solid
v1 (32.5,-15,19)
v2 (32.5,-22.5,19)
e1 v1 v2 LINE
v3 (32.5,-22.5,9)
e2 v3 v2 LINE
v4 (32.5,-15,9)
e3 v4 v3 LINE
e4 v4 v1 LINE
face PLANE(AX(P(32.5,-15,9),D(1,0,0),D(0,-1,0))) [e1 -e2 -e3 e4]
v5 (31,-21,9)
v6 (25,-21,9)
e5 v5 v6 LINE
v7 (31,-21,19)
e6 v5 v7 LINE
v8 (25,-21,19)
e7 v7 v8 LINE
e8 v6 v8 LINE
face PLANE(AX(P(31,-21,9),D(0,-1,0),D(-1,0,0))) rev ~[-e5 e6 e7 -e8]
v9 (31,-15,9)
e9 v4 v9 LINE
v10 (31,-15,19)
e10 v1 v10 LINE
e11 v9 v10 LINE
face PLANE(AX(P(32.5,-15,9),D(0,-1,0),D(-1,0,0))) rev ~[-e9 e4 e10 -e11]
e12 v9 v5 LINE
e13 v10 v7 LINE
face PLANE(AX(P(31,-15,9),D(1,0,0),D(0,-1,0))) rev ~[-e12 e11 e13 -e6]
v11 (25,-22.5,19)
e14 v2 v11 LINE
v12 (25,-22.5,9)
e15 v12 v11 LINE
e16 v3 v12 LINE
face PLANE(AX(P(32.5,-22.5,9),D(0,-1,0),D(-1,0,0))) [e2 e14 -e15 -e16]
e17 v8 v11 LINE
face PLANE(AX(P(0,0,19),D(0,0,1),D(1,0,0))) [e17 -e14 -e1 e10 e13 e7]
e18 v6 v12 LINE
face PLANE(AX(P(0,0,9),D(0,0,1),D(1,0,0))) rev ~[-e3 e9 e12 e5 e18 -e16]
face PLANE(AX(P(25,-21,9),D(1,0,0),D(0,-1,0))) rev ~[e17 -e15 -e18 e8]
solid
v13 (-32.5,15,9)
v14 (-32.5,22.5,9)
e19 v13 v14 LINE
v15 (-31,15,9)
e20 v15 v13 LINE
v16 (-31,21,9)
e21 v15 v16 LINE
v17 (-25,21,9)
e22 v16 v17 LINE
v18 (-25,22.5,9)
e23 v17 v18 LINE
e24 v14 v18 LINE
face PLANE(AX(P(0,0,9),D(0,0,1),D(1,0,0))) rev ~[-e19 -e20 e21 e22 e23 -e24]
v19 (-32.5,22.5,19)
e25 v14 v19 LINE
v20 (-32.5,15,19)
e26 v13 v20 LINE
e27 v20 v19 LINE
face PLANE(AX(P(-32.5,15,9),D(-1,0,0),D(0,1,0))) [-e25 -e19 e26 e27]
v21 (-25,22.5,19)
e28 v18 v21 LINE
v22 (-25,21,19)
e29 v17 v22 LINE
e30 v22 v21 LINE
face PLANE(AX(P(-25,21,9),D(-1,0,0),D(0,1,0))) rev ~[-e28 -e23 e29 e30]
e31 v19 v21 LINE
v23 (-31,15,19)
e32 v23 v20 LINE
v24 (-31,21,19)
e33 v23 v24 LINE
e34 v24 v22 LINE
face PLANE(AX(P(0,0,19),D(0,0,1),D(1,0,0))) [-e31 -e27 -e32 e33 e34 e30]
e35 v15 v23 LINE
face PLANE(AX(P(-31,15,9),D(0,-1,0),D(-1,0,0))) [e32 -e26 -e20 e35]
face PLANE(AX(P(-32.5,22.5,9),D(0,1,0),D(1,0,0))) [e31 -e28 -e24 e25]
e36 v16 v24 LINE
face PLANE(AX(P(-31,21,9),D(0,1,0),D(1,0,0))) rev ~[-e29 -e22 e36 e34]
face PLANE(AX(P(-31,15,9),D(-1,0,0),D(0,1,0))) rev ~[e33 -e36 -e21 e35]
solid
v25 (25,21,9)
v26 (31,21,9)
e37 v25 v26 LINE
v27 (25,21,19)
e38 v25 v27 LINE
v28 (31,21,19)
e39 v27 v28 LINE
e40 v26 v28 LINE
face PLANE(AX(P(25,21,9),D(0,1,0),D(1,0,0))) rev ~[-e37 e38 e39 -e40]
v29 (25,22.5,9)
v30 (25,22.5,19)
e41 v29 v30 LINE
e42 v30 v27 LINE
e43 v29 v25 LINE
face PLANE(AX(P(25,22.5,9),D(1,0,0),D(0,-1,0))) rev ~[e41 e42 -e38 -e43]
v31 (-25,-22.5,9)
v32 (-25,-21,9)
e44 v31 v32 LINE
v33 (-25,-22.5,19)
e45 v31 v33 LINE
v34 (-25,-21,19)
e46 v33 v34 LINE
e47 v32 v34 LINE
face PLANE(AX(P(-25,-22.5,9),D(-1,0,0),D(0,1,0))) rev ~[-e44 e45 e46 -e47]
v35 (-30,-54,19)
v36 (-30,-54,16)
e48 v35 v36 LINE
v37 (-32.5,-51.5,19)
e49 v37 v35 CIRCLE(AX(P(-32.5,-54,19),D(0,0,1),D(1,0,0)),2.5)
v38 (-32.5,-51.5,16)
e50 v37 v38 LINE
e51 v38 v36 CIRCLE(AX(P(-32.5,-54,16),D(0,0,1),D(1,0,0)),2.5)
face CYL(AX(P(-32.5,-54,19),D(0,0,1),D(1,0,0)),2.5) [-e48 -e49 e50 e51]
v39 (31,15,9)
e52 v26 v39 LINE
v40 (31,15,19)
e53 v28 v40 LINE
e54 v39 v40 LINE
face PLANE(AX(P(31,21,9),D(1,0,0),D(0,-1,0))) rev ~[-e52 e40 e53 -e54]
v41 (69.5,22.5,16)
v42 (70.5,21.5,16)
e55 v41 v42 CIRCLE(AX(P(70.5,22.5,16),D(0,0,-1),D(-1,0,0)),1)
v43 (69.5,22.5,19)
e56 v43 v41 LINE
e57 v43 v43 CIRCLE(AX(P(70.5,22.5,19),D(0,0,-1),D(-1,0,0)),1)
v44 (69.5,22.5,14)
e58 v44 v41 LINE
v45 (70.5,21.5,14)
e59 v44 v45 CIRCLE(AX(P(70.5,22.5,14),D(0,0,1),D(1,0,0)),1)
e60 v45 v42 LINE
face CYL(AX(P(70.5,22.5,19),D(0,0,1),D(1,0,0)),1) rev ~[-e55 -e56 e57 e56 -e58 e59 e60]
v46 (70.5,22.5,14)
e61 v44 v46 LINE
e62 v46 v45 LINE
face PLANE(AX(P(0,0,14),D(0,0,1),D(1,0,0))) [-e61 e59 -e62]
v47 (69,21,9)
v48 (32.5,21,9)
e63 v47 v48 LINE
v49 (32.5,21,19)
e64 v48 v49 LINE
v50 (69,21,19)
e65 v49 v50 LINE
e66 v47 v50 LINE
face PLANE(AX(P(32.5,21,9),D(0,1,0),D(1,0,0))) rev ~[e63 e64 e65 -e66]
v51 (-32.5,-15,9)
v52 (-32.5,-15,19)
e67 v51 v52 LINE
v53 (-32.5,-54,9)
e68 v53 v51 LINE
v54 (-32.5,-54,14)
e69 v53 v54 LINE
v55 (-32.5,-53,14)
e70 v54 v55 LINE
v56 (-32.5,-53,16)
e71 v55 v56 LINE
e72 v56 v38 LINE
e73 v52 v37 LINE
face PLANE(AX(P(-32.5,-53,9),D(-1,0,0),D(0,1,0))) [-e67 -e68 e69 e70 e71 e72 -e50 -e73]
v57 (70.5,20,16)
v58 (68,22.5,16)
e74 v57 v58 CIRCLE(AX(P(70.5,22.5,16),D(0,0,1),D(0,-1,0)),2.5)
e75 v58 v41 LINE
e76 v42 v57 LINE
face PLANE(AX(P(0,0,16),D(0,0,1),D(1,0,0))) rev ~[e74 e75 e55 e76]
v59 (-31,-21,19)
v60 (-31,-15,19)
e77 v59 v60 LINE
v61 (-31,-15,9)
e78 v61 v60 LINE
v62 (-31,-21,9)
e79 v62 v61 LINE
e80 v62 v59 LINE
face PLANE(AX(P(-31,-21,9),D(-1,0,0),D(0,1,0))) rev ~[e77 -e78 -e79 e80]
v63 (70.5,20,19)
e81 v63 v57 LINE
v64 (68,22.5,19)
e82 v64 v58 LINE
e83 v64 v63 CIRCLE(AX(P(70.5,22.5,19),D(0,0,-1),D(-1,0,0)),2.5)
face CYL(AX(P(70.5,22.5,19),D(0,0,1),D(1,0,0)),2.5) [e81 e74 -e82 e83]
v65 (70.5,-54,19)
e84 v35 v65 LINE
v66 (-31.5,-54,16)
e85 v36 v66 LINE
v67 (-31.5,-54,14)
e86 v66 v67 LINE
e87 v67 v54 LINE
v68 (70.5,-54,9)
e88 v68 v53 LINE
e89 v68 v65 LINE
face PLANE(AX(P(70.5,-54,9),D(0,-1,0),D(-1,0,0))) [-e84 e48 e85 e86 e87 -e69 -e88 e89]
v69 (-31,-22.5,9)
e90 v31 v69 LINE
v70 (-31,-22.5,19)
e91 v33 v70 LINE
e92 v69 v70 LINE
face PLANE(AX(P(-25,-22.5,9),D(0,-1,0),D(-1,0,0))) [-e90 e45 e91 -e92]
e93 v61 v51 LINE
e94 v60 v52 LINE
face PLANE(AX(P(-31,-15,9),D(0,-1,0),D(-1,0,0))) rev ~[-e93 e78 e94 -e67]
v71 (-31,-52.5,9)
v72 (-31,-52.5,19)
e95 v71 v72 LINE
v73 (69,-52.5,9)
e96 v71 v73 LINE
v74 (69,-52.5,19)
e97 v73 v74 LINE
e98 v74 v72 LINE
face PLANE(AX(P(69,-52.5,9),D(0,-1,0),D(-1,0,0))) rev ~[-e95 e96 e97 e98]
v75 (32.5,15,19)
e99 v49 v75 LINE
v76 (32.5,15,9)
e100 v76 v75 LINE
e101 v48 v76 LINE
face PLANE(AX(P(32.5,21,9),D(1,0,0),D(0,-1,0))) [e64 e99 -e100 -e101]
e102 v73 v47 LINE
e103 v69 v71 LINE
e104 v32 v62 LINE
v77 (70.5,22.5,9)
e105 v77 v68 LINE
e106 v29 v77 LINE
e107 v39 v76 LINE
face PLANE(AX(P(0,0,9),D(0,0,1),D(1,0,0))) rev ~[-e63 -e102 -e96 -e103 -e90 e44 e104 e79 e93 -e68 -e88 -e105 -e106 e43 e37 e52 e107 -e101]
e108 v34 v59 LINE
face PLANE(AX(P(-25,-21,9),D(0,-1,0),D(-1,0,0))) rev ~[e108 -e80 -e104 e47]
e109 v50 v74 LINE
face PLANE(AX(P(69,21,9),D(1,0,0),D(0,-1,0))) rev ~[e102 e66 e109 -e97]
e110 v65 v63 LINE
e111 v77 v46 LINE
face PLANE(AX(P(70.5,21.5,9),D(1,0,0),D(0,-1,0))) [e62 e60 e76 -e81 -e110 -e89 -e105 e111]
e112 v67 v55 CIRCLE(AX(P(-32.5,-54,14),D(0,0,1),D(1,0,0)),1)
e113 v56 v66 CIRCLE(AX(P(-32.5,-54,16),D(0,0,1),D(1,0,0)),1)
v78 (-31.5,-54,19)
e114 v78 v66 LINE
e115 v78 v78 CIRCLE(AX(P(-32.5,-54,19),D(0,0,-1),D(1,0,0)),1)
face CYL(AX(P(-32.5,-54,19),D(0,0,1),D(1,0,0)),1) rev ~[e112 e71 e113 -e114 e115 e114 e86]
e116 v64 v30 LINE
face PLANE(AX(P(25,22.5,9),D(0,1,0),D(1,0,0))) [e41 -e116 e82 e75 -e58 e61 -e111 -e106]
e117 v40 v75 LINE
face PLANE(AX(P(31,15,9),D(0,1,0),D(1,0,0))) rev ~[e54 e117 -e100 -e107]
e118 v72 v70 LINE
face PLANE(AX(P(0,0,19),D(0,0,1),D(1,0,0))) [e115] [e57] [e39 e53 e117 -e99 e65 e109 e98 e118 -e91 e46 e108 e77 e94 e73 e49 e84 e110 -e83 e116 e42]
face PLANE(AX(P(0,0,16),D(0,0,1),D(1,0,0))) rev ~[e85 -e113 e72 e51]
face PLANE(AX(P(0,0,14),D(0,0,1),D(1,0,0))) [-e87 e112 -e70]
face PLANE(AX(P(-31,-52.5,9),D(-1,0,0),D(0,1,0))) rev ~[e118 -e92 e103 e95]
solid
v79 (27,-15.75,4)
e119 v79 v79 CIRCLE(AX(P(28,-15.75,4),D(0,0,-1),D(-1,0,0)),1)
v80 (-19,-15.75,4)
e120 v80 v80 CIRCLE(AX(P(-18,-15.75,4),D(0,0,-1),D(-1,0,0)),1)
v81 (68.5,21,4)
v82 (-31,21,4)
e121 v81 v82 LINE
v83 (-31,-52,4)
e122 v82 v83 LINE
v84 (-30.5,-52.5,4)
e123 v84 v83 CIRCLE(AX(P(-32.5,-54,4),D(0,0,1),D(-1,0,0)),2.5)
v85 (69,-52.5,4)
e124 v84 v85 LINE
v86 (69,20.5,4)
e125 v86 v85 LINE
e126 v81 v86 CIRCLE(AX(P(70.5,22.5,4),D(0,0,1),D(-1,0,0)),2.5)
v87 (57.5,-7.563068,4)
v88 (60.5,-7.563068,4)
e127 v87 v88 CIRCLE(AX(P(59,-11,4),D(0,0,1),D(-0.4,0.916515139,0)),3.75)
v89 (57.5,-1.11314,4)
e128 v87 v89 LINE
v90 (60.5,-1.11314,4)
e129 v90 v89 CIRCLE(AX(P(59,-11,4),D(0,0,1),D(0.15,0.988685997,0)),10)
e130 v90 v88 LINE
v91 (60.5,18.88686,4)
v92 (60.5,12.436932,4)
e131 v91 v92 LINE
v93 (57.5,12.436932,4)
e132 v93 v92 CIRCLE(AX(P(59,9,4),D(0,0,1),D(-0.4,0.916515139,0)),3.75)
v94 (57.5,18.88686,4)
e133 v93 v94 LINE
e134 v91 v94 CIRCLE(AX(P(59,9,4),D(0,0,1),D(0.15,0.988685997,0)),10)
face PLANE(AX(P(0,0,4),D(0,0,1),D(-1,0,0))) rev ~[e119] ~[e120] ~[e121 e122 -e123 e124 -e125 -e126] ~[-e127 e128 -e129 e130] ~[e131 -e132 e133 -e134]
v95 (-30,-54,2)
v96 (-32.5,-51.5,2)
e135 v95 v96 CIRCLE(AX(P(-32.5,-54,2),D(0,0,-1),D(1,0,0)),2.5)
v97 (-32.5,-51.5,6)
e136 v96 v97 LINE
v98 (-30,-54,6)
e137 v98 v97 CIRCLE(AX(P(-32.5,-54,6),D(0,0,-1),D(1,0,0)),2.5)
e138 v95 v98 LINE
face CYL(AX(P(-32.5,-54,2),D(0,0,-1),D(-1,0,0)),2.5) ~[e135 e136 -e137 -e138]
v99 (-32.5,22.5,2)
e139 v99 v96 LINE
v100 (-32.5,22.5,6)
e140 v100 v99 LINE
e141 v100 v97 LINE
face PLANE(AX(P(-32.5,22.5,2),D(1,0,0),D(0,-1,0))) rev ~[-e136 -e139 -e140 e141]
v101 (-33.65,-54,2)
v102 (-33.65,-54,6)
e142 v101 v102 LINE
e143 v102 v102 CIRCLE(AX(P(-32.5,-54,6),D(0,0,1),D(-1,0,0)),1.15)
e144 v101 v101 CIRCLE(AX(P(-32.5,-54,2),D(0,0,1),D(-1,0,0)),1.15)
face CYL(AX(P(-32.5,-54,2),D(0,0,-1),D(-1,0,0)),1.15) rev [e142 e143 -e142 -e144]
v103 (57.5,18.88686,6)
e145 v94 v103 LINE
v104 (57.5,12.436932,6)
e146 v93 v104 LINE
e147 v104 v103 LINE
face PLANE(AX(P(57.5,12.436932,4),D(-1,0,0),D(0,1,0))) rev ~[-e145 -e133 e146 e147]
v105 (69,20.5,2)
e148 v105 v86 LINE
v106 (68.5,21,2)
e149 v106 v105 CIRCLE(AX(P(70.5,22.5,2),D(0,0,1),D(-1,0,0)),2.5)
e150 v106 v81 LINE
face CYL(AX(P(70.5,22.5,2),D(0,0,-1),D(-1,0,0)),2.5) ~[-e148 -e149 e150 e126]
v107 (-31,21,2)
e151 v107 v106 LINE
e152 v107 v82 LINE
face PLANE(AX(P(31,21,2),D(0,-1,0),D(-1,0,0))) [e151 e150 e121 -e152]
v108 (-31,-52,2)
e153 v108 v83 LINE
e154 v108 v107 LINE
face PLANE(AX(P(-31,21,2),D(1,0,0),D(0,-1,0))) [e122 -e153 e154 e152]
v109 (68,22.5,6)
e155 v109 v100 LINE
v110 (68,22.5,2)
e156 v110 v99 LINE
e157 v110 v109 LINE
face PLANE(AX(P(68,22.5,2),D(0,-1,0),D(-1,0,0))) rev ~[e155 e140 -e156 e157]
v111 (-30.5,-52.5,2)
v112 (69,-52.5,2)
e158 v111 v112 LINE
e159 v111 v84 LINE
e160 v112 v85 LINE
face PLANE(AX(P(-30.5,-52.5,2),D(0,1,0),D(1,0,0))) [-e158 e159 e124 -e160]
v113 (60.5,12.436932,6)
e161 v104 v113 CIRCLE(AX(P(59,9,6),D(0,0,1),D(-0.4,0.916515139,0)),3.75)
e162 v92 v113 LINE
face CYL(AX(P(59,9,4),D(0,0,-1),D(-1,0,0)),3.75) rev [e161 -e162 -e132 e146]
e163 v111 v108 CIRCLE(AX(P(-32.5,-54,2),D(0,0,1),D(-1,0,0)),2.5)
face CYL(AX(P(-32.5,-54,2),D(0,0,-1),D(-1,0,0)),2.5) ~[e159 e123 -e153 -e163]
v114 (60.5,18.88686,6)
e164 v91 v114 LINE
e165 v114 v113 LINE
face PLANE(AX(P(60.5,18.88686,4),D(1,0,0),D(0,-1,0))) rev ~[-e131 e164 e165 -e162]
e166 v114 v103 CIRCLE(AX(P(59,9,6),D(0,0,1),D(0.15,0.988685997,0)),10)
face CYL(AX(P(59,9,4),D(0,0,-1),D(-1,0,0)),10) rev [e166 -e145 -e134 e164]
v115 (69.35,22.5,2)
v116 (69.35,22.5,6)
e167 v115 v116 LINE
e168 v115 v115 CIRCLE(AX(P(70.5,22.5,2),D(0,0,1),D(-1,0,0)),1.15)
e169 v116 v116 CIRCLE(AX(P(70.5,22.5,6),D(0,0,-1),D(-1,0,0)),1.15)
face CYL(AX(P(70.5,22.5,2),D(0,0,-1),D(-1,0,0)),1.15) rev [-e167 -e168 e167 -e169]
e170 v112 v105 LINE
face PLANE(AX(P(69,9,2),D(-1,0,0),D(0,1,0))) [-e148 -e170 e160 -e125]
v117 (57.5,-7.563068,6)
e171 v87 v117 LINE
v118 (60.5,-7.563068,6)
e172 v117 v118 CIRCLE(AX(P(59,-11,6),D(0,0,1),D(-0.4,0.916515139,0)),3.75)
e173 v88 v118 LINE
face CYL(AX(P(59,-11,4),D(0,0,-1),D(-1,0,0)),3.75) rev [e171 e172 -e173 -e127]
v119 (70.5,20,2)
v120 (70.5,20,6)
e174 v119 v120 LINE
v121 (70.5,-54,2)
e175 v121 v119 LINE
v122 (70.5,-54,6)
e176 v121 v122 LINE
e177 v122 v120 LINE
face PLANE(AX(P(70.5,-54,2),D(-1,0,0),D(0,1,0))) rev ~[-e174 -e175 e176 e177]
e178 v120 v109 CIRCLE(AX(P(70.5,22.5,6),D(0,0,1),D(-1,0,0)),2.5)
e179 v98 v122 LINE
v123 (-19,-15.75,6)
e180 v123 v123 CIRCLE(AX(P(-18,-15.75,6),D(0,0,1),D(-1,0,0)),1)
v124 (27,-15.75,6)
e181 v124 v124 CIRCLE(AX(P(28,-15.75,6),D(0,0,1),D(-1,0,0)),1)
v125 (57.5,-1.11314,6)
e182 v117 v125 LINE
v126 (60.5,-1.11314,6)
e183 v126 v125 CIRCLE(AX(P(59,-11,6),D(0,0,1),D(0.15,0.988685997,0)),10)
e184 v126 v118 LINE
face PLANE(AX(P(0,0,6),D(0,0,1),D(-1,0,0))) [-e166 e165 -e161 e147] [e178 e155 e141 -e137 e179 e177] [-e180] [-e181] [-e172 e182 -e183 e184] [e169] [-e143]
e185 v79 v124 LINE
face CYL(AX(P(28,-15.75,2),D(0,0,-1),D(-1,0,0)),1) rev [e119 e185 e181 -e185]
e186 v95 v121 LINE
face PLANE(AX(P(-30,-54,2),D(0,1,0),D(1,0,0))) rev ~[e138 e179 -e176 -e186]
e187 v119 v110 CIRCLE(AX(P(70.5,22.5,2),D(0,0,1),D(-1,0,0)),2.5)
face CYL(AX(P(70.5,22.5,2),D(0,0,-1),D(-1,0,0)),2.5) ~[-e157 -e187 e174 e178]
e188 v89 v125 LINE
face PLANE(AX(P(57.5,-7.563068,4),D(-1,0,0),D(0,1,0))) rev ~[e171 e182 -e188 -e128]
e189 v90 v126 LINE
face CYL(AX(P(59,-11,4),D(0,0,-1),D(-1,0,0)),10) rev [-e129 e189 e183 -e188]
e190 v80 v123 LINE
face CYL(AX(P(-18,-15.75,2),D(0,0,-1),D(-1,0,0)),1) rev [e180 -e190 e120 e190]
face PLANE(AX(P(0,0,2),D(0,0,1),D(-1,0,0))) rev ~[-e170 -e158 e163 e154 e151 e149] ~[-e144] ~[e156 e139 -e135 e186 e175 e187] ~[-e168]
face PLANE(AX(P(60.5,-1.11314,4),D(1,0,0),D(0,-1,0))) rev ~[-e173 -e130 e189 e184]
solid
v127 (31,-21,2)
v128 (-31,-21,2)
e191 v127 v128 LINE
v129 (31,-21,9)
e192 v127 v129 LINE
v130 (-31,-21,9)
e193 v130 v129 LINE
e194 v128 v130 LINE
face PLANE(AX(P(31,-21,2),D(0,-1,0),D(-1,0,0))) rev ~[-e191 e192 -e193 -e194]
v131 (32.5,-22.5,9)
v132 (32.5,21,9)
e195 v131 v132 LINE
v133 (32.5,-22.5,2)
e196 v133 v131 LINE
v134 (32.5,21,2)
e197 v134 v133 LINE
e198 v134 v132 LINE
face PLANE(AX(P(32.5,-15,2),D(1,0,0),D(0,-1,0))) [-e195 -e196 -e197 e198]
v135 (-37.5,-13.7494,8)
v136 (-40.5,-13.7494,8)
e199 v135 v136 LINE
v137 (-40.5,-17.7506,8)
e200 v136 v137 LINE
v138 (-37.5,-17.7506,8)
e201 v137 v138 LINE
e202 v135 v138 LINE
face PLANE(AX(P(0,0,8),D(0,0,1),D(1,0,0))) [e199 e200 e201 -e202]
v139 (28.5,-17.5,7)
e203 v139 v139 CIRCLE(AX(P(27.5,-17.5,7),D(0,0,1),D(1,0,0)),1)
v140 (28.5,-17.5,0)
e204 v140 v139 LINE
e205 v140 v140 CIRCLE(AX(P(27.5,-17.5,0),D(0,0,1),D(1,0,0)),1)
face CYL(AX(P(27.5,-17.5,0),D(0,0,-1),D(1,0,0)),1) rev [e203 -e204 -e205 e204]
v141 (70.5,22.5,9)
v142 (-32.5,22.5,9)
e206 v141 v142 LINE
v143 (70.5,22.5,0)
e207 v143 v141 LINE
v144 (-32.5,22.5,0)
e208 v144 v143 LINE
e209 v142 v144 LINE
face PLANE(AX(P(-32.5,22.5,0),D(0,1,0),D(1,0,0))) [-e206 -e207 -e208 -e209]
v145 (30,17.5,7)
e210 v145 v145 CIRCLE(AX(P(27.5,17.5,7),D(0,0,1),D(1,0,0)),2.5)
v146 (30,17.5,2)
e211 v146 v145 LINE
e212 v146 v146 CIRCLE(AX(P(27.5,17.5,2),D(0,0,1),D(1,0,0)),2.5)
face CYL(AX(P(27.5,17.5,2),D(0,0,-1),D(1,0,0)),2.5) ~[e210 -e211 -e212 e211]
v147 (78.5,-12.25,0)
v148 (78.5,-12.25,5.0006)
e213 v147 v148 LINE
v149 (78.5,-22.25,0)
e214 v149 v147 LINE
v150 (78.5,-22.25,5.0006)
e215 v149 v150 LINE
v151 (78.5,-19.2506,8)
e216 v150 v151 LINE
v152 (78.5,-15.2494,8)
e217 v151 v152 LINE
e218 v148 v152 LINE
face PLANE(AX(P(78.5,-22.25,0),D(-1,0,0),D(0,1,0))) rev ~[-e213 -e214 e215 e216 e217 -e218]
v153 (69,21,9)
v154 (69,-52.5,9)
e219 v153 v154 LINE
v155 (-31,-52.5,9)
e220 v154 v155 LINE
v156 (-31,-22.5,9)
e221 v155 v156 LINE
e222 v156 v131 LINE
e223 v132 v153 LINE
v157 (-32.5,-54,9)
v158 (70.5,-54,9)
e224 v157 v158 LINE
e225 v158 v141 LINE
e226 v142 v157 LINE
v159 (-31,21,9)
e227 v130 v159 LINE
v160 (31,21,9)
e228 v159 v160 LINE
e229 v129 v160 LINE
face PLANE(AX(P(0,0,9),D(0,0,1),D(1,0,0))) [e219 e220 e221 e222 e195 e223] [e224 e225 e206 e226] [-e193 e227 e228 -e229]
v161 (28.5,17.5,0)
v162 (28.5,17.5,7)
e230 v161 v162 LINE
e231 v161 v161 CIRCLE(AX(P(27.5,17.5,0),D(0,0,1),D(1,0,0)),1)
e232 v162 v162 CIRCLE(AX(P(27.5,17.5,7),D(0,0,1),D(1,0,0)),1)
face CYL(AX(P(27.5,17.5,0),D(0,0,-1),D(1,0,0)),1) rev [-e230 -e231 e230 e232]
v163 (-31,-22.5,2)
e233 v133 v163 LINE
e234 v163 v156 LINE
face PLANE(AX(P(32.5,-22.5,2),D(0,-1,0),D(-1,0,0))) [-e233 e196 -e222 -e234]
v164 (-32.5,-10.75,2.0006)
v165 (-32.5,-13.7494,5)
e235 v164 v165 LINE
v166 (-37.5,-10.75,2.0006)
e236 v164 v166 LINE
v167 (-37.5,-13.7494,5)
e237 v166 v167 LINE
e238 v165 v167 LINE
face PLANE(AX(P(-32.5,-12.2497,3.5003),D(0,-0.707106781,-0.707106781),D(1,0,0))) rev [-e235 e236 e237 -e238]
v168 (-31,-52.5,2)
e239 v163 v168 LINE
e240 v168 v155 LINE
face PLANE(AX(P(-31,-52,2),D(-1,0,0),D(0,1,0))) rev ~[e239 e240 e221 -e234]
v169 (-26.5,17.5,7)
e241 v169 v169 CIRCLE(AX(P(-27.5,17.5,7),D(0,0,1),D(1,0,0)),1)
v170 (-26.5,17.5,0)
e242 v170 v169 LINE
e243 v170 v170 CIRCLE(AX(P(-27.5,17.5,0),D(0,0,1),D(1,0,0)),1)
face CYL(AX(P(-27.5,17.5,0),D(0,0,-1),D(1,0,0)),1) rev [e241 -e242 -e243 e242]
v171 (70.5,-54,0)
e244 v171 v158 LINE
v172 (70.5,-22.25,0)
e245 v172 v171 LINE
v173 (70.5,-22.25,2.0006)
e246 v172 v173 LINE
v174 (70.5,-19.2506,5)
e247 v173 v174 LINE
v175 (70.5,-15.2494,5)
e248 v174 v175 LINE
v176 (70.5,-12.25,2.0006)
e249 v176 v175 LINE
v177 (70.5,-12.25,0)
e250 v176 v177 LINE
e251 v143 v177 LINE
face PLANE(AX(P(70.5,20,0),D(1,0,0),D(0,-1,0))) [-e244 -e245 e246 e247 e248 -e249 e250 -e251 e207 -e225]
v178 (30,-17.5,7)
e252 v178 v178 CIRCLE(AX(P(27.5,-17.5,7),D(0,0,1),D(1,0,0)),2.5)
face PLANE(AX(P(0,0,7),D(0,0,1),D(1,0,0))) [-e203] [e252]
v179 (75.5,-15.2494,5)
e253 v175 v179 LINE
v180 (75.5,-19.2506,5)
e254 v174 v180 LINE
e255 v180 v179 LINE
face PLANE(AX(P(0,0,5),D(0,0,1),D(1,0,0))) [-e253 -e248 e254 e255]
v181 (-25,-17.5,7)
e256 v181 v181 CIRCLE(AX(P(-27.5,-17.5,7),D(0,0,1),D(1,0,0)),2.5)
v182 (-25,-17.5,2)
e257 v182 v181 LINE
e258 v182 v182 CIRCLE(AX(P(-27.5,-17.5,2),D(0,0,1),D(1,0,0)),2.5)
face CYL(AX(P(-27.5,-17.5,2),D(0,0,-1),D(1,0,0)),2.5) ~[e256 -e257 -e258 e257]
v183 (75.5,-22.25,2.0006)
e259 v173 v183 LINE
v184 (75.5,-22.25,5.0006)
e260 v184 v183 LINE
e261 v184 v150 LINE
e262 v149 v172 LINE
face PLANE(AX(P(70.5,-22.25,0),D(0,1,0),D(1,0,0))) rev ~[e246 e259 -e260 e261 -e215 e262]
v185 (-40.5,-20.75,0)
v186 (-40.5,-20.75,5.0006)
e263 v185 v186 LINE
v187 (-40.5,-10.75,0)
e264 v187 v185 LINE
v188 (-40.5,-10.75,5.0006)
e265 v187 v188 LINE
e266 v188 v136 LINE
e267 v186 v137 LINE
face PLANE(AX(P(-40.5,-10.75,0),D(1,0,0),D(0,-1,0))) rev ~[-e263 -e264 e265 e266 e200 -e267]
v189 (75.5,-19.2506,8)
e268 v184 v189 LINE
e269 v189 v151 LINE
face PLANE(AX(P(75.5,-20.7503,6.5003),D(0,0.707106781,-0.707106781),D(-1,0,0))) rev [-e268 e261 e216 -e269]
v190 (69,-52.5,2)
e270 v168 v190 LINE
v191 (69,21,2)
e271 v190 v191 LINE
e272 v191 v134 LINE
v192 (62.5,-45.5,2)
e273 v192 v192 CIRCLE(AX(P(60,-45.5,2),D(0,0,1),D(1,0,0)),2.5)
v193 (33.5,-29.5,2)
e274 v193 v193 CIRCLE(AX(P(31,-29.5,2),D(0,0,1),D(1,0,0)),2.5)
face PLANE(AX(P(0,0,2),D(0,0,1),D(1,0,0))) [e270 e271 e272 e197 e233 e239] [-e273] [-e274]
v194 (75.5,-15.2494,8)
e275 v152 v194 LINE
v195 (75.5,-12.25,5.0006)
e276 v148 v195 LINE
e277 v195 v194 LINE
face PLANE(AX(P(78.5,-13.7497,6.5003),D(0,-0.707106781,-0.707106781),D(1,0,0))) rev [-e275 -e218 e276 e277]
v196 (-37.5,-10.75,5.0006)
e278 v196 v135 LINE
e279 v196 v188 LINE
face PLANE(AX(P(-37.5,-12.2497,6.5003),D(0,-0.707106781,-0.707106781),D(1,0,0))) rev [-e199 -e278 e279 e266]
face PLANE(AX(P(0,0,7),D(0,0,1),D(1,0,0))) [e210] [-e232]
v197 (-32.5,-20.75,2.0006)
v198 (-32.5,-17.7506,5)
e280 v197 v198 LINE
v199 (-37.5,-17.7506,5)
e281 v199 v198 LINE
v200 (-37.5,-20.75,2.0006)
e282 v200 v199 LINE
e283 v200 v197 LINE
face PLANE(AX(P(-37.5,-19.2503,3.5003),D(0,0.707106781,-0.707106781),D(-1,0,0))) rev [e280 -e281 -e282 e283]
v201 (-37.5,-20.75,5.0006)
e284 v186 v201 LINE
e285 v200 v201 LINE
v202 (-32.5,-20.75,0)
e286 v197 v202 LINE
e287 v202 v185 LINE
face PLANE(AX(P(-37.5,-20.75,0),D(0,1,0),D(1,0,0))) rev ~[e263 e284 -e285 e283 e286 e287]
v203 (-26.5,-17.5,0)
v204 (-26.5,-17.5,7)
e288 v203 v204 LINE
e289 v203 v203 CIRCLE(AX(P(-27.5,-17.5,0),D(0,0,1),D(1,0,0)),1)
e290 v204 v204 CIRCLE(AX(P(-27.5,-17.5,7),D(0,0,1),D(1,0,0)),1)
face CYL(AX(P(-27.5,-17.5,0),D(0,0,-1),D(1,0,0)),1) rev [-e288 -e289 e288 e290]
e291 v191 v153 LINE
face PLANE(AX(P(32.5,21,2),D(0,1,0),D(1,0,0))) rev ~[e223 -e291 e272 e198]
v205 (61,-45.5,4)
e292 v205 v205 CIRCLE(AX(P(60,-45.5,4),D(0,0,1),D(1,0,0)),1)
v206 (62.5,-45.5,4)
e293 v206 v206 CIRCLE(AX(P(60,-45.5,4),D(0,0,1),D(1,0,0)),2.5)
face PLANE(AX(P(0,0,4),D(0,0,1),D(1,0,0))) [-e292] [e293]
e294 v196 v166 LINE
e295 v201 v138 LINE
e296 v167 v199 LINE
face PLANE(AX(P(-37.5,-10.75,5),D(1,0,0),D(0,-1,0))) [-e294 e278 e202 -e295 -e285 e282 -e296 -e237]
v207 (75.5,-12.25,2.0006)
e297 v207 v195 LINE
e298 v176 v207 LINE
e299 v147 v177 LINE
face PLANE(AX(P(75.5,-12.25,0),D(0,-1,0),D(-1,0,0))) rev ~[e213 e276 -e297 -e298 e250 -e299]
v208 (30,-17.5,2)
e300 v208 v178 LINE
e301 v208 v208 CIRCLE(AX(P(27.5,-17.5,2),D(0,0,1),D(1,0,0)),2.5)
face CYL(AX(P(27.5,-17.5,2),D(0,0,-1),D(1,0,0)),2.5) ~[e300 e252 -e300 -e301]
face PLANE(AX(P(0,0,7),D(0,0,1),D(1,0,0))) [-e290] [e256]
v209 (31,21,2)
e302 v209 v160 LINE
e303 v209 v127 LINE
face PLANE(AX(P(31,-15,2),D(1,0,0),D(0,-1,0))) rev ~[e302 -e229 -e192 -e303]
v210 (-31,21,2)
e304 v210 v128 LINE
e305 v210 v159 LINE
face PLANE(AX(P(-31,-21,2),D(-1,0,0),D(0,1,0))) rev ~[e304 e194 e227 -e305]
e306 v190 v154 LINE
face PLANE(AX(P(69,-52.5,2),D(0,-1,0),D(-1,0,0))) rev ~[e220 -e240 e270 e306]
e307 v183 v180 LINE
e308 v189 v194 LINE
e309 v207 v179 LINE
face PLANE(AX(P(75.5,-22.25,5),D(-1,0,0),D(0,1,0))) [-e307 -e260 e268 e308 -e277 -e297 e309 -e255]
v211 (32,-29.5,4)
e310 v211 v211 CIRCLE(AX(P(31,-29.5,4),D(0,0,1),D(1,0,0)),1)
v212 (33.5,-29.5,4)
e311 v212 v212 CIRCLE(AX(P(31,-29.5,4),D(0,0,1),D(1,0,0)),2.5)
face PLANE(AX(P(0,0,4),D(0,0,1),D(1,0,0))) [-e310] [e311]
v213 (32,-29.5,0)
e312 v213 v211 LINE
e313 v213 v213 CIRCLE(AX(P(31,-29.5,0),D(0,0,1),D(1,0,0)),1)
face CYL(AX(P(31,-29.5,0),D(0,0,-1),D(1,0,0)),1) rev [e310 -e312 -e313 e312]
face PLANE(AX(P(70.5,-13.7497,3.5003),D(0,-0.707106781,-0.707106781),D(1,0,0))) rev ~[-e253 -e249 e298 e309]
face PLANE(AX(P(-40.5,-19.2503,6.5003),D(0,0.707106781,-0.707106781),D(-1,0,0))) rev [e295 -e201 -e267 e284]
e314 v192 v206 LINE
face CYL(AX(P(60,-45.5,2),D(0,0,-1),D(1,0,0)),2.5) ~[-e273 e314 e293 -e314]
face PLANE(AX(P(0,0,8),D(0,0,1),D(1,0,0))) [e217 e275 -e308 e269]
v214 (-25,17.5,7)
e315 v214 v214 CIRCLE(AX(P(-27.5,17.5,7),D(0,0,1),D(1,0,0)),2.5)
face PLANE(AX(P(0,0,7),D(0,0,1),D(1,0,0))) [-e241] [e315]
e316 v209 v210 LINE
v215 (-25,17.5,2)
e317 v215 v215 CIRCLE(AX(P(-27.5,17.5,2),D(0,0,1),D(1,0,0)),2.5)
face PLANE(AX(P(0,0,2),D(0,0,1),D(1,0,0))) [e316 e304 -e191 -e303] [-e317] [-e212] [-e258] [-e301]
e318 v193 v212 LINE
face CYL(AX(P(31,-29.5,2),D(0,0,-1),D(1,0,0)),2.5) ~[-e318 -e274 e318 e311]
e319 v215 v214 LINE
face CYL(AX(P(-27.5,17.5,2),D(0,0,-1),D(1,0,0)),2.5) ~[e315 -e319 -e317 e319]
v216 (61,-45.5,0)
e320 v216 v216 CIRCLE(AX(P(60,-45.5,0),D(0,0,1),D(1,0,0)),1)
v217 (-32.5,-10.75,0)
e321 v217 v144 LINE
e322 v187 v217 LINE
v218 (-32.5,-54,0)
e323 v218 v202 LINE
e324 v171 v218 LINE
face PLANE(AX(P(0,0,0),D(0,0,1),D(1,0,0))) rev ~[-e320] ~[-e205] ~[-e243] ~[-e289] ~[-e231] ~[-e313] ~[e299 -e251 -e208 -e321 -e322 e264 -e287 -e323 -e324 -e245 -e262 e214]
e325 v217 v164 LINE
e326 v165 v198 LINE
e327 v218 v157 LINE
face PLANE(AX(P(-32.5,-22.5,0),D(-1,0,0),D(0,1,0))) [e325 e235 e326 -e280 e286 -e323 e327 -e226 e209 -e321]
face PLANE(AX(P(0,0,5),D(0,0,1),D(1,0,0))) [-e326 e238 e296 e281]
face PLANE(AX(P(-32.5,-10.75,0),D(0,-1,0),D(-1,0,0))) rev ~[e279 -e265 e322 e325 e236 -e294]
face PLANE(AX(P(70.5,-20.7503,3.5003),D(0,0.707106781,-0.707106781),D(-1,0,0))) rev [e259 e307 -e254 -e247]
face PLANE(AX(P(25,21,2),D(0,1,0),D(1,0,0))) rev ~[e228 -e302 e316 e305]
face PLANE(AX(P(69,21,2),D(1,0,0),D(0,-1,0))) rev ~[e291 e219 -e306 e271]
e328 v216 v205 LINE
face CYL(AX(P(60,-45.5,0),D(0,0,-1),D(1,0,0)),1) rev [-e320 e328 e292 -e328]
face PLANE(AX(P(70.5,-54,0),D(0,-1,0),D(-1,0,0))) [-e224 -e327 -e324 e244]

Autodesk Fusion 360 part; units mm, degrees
sketch "Schizzo1" plane through (0, 0, 0) normal (0, 0, 1) x (1, 0, 0)
  line L0 (31, -21) -> (-31, -21)
  line L1 (-31, -21) -> (-31, 21)
  line L2 (-31, 21) -> (31, 21)
  line L3 (31, 21) -> (31, -21)
  line L4 (31, -21) -> (-31, 21) construction
  line L5 (-31, -21) -> (31, 21) construction
  line L6 (32.5, -22.5) -> (-32.5, -22.5)
  line L7 (-32.5, -22.5) -> (-32.5, 22.5)
  line L8 (-32.5, 22.5) -> (32.5, 22.5)
  line L9 (32.5, 22.5) -> (32.5, -22.5)
  line L10 (32.5, -22.5) -> (-32.5, 22.5) construction
  line L11 (-32.5, -22.5) -> (32.5, 22.5) construction
  line L12 (27.5, 17.5) -> (-27.5, 17.5) construction
  line L13 (-27.5, 17.5) -> (-27.5, -17.5) construction
  line L14 (-27.5, -17.5) -> (27.5, -17.5) construction
  line L15 (27.5, -17.5) -> (27.5, 17.5) construction
  line L16 (27.5, 17.5) -> (-27.5, -17.5) construction
  line L17 (-27.5, 17.5) -> (27.5, -17.5) construction
  circle A0 centre (-27.5, 17.5) radius 1
  circle A1 centre (27.5, 17.5) radius 1
  circle A2 centre (-27.5, -17.5) radius 1
  circle A3 centre (27.5, -17.5) radius 1
  circle A4 centre (-27.5, 17.5) radius 2.5
  circle A5 centre (27.5, 17.5) radius 2.5
  circle A6 centre (-27.5, -17.5) radius 2.5
  circle A7 centre (27.5, -17.5) radius 2.5
  line L18 (-31, -15) -> (-32.5, -15)
  line L19 (25, 22.5) -> (25, 21)
  line L20 (-25, 21) -> (-25, 22.5)
  line L21 (-31, 15) -> (-32.5, 15)
  line L22 (-32.5, -10.75) -> (-32.5, -15.75)
  line L23 (0, 0) -> (0, -35)
  line L24 (-32.5, -23) -> (-32.5, -15.75)
  circle A8 centre (60, -45.5) radius 2.5
  circle A9 centre (60, -45.5) radius 1
  circle A10 centre (31, -29.5) radius 2.5
  circle A11 centre (31, -29.5) radius 1
  line L25 (69, -52.5) -> (-31, -52.5)
  line L26 (-31, -52.5) -> (-31, -22.5)
  line L27 (-31, -22.5) -> (69, -22.5)
  line L28 (69, -22.5) -> (69, -52.5)
  line L29 (69, -52.5) -> (-31, -22.5) construction
  line L30 (-31, -52.5) -> (69, -22.5) construction
  line L31 (32.5, 21) -> (69, 21)
  line L32 (69, 21) -> (69, -22.5)
  line L33 (69, -22.5) -> (32.5, -22.5)
  line L34 (32.5, -22.5) -> (32.5, 21)
  line L35 (32.5, 22.5) -> (70.5, 22.5)
  line L36 (70.5, 22.5) -> (70.5, -22.5)
  line L37 (70.5, -22.5) -> (70.5, -54)
  line L38 (70.5, -54) -> (-32.5, -54)
  line L39 (-32.5, -54) -> (-32.5, -22.5)
  line L40 (-32.5, 22.5) -> (-39.6797, 22.5) construction
  line L41 (-39.6797, 22.5) -> (-39.6797, -54) construction
  line L42 (-39.6797, -54) -> (-32.5, -54) construction
  line L43 (-32.5, -54) -> (-32.5, 22.5) construction
  line L44 (-44, -15.75) -> (-39.6797, -15.75) construction
  line L45 (-32.5, -10.75) -> (-40.5, -10.75)
  line L46 (-40.5, -10.75) -> (-40.5, -20.75)
  line L47 (-40.5, -20.75) -> (-32.5, -20.75)
  line L48 (-32.5, -20.75) -> (-32.5, -10.75)
  line L49 (-32.5, -10.75) -> (-40.5, -20.75) construction
  line L50 (-40.5, -10.75) -> (-32.5, -20.75) construction
  line L51 (-40.5, -10.75) -> (-37.5, -10.75)
  line L52 (-37.5, -10.75) -> (-37.5, -20.75)
  line L53 (-37.5, -20.75) -> (-40.5, -20.75)
  line L54 (-40.5, -20.75) -> (-40.5, -10.75)
  line L55 (70.5, -22.25) -> (70.5, -17.25)
  line L56 (70.5, -22.25) -> (78.5, -22.25)
  line L57 (75.5, -22.25) -> (75.5, -12.25)
  line L58 (70.5, -12.25) -> (70.5, -22.25)
  line L59 (78.5, -12.25) -> (70.5, -12.25)
  line L60 (70.5, -22.25) -> (78.5, -12.25) construction
  line L61 (78.5, -22.25) -> (78.5, -12.25)
  line L62 (75.5, -12.25) -> (78.5, -12.25)
  line L63 (78.5, -22.25) -> (70.5, -12.25) construction
  line L64 (78.5, -12.25) -> (78.5, -22.25)
  line L65 (78.5, -22.25) -> (75.5, -22.25)
  line L66 (-25, -21) -> (25, -21)
  line L67 (25, -21) -> (25, -22.5)
  line L68 (25, -22.5) -> (-25, -22.5)
  line L69 (-25, -22.5) -> (-25, -21)
  line L70 (31, 15) -> (32.5, 15)
  line L71 (32.5, 15) -> (32.5, -15)
  line L72 (32.5, -15) -> (31, -15)
  line L73 (31, -15) -> (31, 15)
  circle A12 centre (70.5, 22.5) radius 1
  circle A13 centre (70.5, 22.5) radius 2.5
  circle A14 centre (-32.5, -54) radius 1
  circle A15 centre (-32.5, -54) radius 2.5
  point P0 (19, -37.5)
  point P1 (-36.5, -15.75)
  point P2 (74.5, -17.25)
  dimension "d1" = 62
  dimension "d2" = 42
  dimension "d4" = 1.5
  dimension "d5" = 1.5
  dimension "d6" = 35
  dimension "d7" = 55
  dimension "d8" = 2
  dimension "d11" = 55
  dimension "d12" = 35
  dimension "d13" = 5
  dimension "d16" = 55
  dimension "d17" = -35
  dimension "d44" = 100
  dimension "d45" = 30
  dimension "d46" = 29
  dimension "d47" = 16
  dimension "d48" = 9
  dimension "d49" = 7
  dimension "d52" = 8
  dimension "d53" = 10
  dimension "d54" = 3
  dimension "d55" = 8
  dimension "d56" = 10
  dimension "d57" = 3
  dimension "d69" = 2
  dimension "d70" = 5
  dimension "d71" = 2
  dimension "d72" = 5
extrude "Estrusione1" add sketch "Schizzo1" along normal blind 2 contours L0 L3 L6 L9 L27 L34 L67 L72 | L0 L1 L2 L3 L66 L73 | L0 L6 L23 L27 L66 L67 L68 | L3 L9 L34 L70 L71 L72 L73 | L0 L6 L23 L27 L66 L68 L69 | L6 L25 L26 L27 L28 L33 L68 A15 | L2 L3 L8 L9 L19 L34 L70 | L9 L27 L31 L32 L33 L34 L71 A13 | L0 L1 L6 L7 L18 L22 L24 L27 L48 L69 | L25 L28 L32 L36 L37 L38 L55 L58 A13 A15 | L2 L8 L19 L20 | L9 L31 L35 A13 | L1 L7 L18 L21 L22 L48 | L6 L24 L26 L39 A15 | L31 L32 A13 | L31 L32 L35 L36 A12 A13 | L1 L2 L7 L8 L20 L21 | L25 L26 A15 | L25 L26 L38 L39 A14 A15 | L35 L36 A12 | L38 L39 A14 | A4 | A5 | A6 | A7 | A8 | A10 picked at (70.3587, 21.8502) picked at (-32.1015, -53.4677) makes body 1
extrude "Estrusione2" add sketch "Schizzo1" along normal blind 5 from surface at 2 contours A4 | A5 | A6 | A7 bodies 1
extrude "Estrusione3" add sketch "Schizzo1" along normal blind 7 from surface at 2 separate body contours L0 L3 L6 L9 L27 L34 L67 L72 | L0 L6 L23 L27 L66 L67 L68 | L3 L9 L34 L70 L71 L72 L73 | L0 L6 L23 L27 L66 L68 L69 | L2 L3 L8 L9 L19 L34 L70 | L0 L1 L6 L7 L18 L22 L24 L27 L48 L69 | L25 L28 L32 L36 L37 L38 L55 L58 A13 A15 | L2 L8 L19 L20 | L9 L31 L35 A13 | L1 L7 L18 L21 L22 L48 | L6 L24 L26 L39 A15 | L31 L32 L35 L36 A12 A13 | L1 L2 L7 L8 L20 L21 | L25 L26 L38 L39 A14 A15 | L35 L36 A12 | L38 L39 A14 picked at (70.3587, 21.8502) picked at (-32.1015, -53.4677) makes body 2
extrude "Estrusione7" add sketch "Schizzo1" along normal blind 2 from surface at 2 contours A8 | A10 bodies 1
extrude "Estrusione4" add sketch "Schizzo1" along normal blind 10 from surface at 9 separate body contours L0 L3 L6 L9 L27 L34 L67 L72 | L2 L3 L8 L9 L19 L34 L70 | L0 L1 L6 L7 L18 L22 L24 L27 L48 L69 | L25 L28 L32 L36 L37 L38 L55 L58 A13 A15 | L9 L31 L35 A13 | L6 L24 L26 L39 A15 | L31 L32 L35 L36 A12 A13 | L1 L2 L7 L8 L20 L21 | L25 L26 L38 L39 A14 A15 | L35 L36 A12 | L38 L39 A14 picked at (70.3587, 21.8502) picked at (-32.1015, -53.4677) makes body 3 at (-30, 22.5, 12.3333) makes body 4 at (36.1667, -54, 12.3333) makes body 5 at (32.5, -17.5, 12.3333)
extrude "Estrusione8" add sketch "Schizzo1" along normal blind 5 contours L7 L22 L24 L45 L47 L48 L52 | L36 L55 L56 L57 L58 L59 | L45 L46 L47 L51 L52 L53 L54 | L56 L57 L59 L61 L62 L64 L65 bodies 1 3 4 5 2
extrude "Estrusione9" add sketch "Schizzo1" along normal blind 3 from surface at 5 contours L45 L46 L47 L51 L52 L53 L54 | L56 L57 L59 L61 L62 L64 L65 bodies 1
chamfer "Smusso2" distance 3 angle 45 8 edges at (73, -12.25, 5) (77, -12.25, 8) (77, -22.25, 8) (73, -22.25, 5) (-35, -20.75, 5) (-39, -20.75, 8) (-35, -10.75, 5) (-39, -10.75, 8) on bodies 1
extrude "Estrusione10" add sketch "Schizzo1" against normal blind 3 from surface at 19 contours L35 L36 A12 A13 | L38 L39 A14 A15 bodies 4
extrude "Estrusione11" cut sketch "Schizzo1" against normal blind 5 from surface at 19 contours L35 L36 A12 | L35 L36 A12 | L38 L39 A14 | L38 L39 A14 bodies 4
sketch "Schizzo1 (2)" plane through (0, 0, 2) normal (0, 0, 1) x (-1, 0, 0) in component "top"
  line L0 (31, -21) -> (31, 21)
  line L1 (-31, -21) -> (31, -21)
  circle A0 centre (-70.5, -22.5) radius 2.5
  circle A1 centre (-70.5, -22.5) radius 1.15
  circle A2 centre (32.5, 54) radius 2.5
  circle A3 centre (32.5, 54) radius 1.15
  line L2 (32.5, 54) -> (-70.5, 54)
  line L3 (-70.5, 54) -> (-70.5, -22.5)
  line L4 (-70.5, -22.5) -> (32.5, -22.5)
  line L5 (32.5, -22.5) -> (32.5, 54)
  line L6 (31, 52.5) -> (-69, 52.5)
  line L7 (-69, 52.5) -> (-69, -21)
  line L8 (-69, -21) -> (31, -21)
  line L9 (31, -21) -> (31, 52.5)
  circle A4 centre (-59, -9) radius 3.75
  line L10 (-60.5, -9) -> (-57.5, -9)
  line L11 (-57.5, -9) -> (-57.5, -19)
  line L12 (-57.5, -19) -> (-60.5, -19)
  line L13 (-60.5, -19) -> (-60.5, -9)
  line L14 (-60.5, -9) -> (-57.5, -19) construction
  line L15 (-57.5, -9) -> (-60.5, -19) construction
  circle A5 centre (-59, -9) radius 10
  line L16 (-60.5, 11) -> (-57.5, 1) construction
  line L17 (-60.5, 11) -> (-57.5, 11)
  circle A6 centre (-59, 11) radius 10
  line L18 (-57.5, 11) -> (-57.5, 1)
  line L19 (-57.5, 1) -> (-60.5, 1)
  line L20 (-57.5, 11) -> (-60.5, 1) construction
  circle A7 centre (-59, 11) radius 3.75
  line L21 (-60.5, 1) -> (-60.5, 11)
  circle A8 centre (18, 15.75) radius 1
  circle A9 centre (-28, 15.75) radius 1
  line L22 (18, -21) -> (18, 52.5) construction
  point P0 (-59, -14)
  point P1 (-59, 6)
  dimension "d79" = 5
  dimension "d80" = 2.3
  dimension "d81" = 5
  dimension "d82" = 2.3
  dimension "d83" = 7.5
  dimension "d84" = 3
  dimension "d85" = 10
  dimension "d86" = 12
  dimension "d87" = 20
  dimension "d88" = 7.5
  dimension "d89" = 3
  dimension "d90" = 10
  dimension "d91" = 20
  dimension "d92" = 20
  dimension "d93" = 10
  dimension "d99" = 2
  dimension "d100" = 2
  dimension "d101" = 46
extrude "Estrusione1'" add sketch "Schizzo1 (2)" along normal blind 2 separate body contours L0 L1 A0 A2 L4 L5 L8 L9 | A2 A3 L2 L5 L6 L9 | A2 L6 L9 | A0 L7 L8 | A0 A1 L3 L4 L7 L8 | A0 A2 L2 L3 L6 L7 | A2 A3 L2 L5 | A0 A1 L3 L4 makes body 6 in component "top"
extrude "Estrusione2'" add sketch "Schizzo1 (2)" along normal blind 2 from surface at 2 contours L0 L1 A0 A2 L6 L7 L8 L9 L11 L12 L13 A5 A6 L18 L19 | L0 L1 A0 A2 L4 L5 L8 L9 | A2 A3 L2 L5 L6 L9 | A2 L6 L9 | A0 L7 L8 | A0 A1 L3 L4 L7 L8 | A0 A2 L2 L3 L6 L7 | A2 A3 L2 L5 | A0 A1 L3 L4 | L7 A5 A6 L19 L21 | A4 L11 L13 A5 | A6 L18 A7 L21 | A6 L19 L21 | A6 L18 L19 | L12 L13 A5 | L11 L12 A5 | A8 | A9 picked at (-61.7609, -1.5985) picked at (-66.879, 11.5308) bodies 6 in component "top"
extrude "Estrusione3'" cut sketch "Schizzo1 (2)" along normal blind 4 contours A8 | A9 bodies 6 in component "top"
component "top" placed x (1, 0, 0) y (0, 1, 0) z (0, 0, 1) at (0, 0, 0)
equation "wall_thickness = 1.5 mm"
equation "d4 = wall_thickness"
equation "d5 = wall_thickness"
equation "d50 = -wall_thickness"
